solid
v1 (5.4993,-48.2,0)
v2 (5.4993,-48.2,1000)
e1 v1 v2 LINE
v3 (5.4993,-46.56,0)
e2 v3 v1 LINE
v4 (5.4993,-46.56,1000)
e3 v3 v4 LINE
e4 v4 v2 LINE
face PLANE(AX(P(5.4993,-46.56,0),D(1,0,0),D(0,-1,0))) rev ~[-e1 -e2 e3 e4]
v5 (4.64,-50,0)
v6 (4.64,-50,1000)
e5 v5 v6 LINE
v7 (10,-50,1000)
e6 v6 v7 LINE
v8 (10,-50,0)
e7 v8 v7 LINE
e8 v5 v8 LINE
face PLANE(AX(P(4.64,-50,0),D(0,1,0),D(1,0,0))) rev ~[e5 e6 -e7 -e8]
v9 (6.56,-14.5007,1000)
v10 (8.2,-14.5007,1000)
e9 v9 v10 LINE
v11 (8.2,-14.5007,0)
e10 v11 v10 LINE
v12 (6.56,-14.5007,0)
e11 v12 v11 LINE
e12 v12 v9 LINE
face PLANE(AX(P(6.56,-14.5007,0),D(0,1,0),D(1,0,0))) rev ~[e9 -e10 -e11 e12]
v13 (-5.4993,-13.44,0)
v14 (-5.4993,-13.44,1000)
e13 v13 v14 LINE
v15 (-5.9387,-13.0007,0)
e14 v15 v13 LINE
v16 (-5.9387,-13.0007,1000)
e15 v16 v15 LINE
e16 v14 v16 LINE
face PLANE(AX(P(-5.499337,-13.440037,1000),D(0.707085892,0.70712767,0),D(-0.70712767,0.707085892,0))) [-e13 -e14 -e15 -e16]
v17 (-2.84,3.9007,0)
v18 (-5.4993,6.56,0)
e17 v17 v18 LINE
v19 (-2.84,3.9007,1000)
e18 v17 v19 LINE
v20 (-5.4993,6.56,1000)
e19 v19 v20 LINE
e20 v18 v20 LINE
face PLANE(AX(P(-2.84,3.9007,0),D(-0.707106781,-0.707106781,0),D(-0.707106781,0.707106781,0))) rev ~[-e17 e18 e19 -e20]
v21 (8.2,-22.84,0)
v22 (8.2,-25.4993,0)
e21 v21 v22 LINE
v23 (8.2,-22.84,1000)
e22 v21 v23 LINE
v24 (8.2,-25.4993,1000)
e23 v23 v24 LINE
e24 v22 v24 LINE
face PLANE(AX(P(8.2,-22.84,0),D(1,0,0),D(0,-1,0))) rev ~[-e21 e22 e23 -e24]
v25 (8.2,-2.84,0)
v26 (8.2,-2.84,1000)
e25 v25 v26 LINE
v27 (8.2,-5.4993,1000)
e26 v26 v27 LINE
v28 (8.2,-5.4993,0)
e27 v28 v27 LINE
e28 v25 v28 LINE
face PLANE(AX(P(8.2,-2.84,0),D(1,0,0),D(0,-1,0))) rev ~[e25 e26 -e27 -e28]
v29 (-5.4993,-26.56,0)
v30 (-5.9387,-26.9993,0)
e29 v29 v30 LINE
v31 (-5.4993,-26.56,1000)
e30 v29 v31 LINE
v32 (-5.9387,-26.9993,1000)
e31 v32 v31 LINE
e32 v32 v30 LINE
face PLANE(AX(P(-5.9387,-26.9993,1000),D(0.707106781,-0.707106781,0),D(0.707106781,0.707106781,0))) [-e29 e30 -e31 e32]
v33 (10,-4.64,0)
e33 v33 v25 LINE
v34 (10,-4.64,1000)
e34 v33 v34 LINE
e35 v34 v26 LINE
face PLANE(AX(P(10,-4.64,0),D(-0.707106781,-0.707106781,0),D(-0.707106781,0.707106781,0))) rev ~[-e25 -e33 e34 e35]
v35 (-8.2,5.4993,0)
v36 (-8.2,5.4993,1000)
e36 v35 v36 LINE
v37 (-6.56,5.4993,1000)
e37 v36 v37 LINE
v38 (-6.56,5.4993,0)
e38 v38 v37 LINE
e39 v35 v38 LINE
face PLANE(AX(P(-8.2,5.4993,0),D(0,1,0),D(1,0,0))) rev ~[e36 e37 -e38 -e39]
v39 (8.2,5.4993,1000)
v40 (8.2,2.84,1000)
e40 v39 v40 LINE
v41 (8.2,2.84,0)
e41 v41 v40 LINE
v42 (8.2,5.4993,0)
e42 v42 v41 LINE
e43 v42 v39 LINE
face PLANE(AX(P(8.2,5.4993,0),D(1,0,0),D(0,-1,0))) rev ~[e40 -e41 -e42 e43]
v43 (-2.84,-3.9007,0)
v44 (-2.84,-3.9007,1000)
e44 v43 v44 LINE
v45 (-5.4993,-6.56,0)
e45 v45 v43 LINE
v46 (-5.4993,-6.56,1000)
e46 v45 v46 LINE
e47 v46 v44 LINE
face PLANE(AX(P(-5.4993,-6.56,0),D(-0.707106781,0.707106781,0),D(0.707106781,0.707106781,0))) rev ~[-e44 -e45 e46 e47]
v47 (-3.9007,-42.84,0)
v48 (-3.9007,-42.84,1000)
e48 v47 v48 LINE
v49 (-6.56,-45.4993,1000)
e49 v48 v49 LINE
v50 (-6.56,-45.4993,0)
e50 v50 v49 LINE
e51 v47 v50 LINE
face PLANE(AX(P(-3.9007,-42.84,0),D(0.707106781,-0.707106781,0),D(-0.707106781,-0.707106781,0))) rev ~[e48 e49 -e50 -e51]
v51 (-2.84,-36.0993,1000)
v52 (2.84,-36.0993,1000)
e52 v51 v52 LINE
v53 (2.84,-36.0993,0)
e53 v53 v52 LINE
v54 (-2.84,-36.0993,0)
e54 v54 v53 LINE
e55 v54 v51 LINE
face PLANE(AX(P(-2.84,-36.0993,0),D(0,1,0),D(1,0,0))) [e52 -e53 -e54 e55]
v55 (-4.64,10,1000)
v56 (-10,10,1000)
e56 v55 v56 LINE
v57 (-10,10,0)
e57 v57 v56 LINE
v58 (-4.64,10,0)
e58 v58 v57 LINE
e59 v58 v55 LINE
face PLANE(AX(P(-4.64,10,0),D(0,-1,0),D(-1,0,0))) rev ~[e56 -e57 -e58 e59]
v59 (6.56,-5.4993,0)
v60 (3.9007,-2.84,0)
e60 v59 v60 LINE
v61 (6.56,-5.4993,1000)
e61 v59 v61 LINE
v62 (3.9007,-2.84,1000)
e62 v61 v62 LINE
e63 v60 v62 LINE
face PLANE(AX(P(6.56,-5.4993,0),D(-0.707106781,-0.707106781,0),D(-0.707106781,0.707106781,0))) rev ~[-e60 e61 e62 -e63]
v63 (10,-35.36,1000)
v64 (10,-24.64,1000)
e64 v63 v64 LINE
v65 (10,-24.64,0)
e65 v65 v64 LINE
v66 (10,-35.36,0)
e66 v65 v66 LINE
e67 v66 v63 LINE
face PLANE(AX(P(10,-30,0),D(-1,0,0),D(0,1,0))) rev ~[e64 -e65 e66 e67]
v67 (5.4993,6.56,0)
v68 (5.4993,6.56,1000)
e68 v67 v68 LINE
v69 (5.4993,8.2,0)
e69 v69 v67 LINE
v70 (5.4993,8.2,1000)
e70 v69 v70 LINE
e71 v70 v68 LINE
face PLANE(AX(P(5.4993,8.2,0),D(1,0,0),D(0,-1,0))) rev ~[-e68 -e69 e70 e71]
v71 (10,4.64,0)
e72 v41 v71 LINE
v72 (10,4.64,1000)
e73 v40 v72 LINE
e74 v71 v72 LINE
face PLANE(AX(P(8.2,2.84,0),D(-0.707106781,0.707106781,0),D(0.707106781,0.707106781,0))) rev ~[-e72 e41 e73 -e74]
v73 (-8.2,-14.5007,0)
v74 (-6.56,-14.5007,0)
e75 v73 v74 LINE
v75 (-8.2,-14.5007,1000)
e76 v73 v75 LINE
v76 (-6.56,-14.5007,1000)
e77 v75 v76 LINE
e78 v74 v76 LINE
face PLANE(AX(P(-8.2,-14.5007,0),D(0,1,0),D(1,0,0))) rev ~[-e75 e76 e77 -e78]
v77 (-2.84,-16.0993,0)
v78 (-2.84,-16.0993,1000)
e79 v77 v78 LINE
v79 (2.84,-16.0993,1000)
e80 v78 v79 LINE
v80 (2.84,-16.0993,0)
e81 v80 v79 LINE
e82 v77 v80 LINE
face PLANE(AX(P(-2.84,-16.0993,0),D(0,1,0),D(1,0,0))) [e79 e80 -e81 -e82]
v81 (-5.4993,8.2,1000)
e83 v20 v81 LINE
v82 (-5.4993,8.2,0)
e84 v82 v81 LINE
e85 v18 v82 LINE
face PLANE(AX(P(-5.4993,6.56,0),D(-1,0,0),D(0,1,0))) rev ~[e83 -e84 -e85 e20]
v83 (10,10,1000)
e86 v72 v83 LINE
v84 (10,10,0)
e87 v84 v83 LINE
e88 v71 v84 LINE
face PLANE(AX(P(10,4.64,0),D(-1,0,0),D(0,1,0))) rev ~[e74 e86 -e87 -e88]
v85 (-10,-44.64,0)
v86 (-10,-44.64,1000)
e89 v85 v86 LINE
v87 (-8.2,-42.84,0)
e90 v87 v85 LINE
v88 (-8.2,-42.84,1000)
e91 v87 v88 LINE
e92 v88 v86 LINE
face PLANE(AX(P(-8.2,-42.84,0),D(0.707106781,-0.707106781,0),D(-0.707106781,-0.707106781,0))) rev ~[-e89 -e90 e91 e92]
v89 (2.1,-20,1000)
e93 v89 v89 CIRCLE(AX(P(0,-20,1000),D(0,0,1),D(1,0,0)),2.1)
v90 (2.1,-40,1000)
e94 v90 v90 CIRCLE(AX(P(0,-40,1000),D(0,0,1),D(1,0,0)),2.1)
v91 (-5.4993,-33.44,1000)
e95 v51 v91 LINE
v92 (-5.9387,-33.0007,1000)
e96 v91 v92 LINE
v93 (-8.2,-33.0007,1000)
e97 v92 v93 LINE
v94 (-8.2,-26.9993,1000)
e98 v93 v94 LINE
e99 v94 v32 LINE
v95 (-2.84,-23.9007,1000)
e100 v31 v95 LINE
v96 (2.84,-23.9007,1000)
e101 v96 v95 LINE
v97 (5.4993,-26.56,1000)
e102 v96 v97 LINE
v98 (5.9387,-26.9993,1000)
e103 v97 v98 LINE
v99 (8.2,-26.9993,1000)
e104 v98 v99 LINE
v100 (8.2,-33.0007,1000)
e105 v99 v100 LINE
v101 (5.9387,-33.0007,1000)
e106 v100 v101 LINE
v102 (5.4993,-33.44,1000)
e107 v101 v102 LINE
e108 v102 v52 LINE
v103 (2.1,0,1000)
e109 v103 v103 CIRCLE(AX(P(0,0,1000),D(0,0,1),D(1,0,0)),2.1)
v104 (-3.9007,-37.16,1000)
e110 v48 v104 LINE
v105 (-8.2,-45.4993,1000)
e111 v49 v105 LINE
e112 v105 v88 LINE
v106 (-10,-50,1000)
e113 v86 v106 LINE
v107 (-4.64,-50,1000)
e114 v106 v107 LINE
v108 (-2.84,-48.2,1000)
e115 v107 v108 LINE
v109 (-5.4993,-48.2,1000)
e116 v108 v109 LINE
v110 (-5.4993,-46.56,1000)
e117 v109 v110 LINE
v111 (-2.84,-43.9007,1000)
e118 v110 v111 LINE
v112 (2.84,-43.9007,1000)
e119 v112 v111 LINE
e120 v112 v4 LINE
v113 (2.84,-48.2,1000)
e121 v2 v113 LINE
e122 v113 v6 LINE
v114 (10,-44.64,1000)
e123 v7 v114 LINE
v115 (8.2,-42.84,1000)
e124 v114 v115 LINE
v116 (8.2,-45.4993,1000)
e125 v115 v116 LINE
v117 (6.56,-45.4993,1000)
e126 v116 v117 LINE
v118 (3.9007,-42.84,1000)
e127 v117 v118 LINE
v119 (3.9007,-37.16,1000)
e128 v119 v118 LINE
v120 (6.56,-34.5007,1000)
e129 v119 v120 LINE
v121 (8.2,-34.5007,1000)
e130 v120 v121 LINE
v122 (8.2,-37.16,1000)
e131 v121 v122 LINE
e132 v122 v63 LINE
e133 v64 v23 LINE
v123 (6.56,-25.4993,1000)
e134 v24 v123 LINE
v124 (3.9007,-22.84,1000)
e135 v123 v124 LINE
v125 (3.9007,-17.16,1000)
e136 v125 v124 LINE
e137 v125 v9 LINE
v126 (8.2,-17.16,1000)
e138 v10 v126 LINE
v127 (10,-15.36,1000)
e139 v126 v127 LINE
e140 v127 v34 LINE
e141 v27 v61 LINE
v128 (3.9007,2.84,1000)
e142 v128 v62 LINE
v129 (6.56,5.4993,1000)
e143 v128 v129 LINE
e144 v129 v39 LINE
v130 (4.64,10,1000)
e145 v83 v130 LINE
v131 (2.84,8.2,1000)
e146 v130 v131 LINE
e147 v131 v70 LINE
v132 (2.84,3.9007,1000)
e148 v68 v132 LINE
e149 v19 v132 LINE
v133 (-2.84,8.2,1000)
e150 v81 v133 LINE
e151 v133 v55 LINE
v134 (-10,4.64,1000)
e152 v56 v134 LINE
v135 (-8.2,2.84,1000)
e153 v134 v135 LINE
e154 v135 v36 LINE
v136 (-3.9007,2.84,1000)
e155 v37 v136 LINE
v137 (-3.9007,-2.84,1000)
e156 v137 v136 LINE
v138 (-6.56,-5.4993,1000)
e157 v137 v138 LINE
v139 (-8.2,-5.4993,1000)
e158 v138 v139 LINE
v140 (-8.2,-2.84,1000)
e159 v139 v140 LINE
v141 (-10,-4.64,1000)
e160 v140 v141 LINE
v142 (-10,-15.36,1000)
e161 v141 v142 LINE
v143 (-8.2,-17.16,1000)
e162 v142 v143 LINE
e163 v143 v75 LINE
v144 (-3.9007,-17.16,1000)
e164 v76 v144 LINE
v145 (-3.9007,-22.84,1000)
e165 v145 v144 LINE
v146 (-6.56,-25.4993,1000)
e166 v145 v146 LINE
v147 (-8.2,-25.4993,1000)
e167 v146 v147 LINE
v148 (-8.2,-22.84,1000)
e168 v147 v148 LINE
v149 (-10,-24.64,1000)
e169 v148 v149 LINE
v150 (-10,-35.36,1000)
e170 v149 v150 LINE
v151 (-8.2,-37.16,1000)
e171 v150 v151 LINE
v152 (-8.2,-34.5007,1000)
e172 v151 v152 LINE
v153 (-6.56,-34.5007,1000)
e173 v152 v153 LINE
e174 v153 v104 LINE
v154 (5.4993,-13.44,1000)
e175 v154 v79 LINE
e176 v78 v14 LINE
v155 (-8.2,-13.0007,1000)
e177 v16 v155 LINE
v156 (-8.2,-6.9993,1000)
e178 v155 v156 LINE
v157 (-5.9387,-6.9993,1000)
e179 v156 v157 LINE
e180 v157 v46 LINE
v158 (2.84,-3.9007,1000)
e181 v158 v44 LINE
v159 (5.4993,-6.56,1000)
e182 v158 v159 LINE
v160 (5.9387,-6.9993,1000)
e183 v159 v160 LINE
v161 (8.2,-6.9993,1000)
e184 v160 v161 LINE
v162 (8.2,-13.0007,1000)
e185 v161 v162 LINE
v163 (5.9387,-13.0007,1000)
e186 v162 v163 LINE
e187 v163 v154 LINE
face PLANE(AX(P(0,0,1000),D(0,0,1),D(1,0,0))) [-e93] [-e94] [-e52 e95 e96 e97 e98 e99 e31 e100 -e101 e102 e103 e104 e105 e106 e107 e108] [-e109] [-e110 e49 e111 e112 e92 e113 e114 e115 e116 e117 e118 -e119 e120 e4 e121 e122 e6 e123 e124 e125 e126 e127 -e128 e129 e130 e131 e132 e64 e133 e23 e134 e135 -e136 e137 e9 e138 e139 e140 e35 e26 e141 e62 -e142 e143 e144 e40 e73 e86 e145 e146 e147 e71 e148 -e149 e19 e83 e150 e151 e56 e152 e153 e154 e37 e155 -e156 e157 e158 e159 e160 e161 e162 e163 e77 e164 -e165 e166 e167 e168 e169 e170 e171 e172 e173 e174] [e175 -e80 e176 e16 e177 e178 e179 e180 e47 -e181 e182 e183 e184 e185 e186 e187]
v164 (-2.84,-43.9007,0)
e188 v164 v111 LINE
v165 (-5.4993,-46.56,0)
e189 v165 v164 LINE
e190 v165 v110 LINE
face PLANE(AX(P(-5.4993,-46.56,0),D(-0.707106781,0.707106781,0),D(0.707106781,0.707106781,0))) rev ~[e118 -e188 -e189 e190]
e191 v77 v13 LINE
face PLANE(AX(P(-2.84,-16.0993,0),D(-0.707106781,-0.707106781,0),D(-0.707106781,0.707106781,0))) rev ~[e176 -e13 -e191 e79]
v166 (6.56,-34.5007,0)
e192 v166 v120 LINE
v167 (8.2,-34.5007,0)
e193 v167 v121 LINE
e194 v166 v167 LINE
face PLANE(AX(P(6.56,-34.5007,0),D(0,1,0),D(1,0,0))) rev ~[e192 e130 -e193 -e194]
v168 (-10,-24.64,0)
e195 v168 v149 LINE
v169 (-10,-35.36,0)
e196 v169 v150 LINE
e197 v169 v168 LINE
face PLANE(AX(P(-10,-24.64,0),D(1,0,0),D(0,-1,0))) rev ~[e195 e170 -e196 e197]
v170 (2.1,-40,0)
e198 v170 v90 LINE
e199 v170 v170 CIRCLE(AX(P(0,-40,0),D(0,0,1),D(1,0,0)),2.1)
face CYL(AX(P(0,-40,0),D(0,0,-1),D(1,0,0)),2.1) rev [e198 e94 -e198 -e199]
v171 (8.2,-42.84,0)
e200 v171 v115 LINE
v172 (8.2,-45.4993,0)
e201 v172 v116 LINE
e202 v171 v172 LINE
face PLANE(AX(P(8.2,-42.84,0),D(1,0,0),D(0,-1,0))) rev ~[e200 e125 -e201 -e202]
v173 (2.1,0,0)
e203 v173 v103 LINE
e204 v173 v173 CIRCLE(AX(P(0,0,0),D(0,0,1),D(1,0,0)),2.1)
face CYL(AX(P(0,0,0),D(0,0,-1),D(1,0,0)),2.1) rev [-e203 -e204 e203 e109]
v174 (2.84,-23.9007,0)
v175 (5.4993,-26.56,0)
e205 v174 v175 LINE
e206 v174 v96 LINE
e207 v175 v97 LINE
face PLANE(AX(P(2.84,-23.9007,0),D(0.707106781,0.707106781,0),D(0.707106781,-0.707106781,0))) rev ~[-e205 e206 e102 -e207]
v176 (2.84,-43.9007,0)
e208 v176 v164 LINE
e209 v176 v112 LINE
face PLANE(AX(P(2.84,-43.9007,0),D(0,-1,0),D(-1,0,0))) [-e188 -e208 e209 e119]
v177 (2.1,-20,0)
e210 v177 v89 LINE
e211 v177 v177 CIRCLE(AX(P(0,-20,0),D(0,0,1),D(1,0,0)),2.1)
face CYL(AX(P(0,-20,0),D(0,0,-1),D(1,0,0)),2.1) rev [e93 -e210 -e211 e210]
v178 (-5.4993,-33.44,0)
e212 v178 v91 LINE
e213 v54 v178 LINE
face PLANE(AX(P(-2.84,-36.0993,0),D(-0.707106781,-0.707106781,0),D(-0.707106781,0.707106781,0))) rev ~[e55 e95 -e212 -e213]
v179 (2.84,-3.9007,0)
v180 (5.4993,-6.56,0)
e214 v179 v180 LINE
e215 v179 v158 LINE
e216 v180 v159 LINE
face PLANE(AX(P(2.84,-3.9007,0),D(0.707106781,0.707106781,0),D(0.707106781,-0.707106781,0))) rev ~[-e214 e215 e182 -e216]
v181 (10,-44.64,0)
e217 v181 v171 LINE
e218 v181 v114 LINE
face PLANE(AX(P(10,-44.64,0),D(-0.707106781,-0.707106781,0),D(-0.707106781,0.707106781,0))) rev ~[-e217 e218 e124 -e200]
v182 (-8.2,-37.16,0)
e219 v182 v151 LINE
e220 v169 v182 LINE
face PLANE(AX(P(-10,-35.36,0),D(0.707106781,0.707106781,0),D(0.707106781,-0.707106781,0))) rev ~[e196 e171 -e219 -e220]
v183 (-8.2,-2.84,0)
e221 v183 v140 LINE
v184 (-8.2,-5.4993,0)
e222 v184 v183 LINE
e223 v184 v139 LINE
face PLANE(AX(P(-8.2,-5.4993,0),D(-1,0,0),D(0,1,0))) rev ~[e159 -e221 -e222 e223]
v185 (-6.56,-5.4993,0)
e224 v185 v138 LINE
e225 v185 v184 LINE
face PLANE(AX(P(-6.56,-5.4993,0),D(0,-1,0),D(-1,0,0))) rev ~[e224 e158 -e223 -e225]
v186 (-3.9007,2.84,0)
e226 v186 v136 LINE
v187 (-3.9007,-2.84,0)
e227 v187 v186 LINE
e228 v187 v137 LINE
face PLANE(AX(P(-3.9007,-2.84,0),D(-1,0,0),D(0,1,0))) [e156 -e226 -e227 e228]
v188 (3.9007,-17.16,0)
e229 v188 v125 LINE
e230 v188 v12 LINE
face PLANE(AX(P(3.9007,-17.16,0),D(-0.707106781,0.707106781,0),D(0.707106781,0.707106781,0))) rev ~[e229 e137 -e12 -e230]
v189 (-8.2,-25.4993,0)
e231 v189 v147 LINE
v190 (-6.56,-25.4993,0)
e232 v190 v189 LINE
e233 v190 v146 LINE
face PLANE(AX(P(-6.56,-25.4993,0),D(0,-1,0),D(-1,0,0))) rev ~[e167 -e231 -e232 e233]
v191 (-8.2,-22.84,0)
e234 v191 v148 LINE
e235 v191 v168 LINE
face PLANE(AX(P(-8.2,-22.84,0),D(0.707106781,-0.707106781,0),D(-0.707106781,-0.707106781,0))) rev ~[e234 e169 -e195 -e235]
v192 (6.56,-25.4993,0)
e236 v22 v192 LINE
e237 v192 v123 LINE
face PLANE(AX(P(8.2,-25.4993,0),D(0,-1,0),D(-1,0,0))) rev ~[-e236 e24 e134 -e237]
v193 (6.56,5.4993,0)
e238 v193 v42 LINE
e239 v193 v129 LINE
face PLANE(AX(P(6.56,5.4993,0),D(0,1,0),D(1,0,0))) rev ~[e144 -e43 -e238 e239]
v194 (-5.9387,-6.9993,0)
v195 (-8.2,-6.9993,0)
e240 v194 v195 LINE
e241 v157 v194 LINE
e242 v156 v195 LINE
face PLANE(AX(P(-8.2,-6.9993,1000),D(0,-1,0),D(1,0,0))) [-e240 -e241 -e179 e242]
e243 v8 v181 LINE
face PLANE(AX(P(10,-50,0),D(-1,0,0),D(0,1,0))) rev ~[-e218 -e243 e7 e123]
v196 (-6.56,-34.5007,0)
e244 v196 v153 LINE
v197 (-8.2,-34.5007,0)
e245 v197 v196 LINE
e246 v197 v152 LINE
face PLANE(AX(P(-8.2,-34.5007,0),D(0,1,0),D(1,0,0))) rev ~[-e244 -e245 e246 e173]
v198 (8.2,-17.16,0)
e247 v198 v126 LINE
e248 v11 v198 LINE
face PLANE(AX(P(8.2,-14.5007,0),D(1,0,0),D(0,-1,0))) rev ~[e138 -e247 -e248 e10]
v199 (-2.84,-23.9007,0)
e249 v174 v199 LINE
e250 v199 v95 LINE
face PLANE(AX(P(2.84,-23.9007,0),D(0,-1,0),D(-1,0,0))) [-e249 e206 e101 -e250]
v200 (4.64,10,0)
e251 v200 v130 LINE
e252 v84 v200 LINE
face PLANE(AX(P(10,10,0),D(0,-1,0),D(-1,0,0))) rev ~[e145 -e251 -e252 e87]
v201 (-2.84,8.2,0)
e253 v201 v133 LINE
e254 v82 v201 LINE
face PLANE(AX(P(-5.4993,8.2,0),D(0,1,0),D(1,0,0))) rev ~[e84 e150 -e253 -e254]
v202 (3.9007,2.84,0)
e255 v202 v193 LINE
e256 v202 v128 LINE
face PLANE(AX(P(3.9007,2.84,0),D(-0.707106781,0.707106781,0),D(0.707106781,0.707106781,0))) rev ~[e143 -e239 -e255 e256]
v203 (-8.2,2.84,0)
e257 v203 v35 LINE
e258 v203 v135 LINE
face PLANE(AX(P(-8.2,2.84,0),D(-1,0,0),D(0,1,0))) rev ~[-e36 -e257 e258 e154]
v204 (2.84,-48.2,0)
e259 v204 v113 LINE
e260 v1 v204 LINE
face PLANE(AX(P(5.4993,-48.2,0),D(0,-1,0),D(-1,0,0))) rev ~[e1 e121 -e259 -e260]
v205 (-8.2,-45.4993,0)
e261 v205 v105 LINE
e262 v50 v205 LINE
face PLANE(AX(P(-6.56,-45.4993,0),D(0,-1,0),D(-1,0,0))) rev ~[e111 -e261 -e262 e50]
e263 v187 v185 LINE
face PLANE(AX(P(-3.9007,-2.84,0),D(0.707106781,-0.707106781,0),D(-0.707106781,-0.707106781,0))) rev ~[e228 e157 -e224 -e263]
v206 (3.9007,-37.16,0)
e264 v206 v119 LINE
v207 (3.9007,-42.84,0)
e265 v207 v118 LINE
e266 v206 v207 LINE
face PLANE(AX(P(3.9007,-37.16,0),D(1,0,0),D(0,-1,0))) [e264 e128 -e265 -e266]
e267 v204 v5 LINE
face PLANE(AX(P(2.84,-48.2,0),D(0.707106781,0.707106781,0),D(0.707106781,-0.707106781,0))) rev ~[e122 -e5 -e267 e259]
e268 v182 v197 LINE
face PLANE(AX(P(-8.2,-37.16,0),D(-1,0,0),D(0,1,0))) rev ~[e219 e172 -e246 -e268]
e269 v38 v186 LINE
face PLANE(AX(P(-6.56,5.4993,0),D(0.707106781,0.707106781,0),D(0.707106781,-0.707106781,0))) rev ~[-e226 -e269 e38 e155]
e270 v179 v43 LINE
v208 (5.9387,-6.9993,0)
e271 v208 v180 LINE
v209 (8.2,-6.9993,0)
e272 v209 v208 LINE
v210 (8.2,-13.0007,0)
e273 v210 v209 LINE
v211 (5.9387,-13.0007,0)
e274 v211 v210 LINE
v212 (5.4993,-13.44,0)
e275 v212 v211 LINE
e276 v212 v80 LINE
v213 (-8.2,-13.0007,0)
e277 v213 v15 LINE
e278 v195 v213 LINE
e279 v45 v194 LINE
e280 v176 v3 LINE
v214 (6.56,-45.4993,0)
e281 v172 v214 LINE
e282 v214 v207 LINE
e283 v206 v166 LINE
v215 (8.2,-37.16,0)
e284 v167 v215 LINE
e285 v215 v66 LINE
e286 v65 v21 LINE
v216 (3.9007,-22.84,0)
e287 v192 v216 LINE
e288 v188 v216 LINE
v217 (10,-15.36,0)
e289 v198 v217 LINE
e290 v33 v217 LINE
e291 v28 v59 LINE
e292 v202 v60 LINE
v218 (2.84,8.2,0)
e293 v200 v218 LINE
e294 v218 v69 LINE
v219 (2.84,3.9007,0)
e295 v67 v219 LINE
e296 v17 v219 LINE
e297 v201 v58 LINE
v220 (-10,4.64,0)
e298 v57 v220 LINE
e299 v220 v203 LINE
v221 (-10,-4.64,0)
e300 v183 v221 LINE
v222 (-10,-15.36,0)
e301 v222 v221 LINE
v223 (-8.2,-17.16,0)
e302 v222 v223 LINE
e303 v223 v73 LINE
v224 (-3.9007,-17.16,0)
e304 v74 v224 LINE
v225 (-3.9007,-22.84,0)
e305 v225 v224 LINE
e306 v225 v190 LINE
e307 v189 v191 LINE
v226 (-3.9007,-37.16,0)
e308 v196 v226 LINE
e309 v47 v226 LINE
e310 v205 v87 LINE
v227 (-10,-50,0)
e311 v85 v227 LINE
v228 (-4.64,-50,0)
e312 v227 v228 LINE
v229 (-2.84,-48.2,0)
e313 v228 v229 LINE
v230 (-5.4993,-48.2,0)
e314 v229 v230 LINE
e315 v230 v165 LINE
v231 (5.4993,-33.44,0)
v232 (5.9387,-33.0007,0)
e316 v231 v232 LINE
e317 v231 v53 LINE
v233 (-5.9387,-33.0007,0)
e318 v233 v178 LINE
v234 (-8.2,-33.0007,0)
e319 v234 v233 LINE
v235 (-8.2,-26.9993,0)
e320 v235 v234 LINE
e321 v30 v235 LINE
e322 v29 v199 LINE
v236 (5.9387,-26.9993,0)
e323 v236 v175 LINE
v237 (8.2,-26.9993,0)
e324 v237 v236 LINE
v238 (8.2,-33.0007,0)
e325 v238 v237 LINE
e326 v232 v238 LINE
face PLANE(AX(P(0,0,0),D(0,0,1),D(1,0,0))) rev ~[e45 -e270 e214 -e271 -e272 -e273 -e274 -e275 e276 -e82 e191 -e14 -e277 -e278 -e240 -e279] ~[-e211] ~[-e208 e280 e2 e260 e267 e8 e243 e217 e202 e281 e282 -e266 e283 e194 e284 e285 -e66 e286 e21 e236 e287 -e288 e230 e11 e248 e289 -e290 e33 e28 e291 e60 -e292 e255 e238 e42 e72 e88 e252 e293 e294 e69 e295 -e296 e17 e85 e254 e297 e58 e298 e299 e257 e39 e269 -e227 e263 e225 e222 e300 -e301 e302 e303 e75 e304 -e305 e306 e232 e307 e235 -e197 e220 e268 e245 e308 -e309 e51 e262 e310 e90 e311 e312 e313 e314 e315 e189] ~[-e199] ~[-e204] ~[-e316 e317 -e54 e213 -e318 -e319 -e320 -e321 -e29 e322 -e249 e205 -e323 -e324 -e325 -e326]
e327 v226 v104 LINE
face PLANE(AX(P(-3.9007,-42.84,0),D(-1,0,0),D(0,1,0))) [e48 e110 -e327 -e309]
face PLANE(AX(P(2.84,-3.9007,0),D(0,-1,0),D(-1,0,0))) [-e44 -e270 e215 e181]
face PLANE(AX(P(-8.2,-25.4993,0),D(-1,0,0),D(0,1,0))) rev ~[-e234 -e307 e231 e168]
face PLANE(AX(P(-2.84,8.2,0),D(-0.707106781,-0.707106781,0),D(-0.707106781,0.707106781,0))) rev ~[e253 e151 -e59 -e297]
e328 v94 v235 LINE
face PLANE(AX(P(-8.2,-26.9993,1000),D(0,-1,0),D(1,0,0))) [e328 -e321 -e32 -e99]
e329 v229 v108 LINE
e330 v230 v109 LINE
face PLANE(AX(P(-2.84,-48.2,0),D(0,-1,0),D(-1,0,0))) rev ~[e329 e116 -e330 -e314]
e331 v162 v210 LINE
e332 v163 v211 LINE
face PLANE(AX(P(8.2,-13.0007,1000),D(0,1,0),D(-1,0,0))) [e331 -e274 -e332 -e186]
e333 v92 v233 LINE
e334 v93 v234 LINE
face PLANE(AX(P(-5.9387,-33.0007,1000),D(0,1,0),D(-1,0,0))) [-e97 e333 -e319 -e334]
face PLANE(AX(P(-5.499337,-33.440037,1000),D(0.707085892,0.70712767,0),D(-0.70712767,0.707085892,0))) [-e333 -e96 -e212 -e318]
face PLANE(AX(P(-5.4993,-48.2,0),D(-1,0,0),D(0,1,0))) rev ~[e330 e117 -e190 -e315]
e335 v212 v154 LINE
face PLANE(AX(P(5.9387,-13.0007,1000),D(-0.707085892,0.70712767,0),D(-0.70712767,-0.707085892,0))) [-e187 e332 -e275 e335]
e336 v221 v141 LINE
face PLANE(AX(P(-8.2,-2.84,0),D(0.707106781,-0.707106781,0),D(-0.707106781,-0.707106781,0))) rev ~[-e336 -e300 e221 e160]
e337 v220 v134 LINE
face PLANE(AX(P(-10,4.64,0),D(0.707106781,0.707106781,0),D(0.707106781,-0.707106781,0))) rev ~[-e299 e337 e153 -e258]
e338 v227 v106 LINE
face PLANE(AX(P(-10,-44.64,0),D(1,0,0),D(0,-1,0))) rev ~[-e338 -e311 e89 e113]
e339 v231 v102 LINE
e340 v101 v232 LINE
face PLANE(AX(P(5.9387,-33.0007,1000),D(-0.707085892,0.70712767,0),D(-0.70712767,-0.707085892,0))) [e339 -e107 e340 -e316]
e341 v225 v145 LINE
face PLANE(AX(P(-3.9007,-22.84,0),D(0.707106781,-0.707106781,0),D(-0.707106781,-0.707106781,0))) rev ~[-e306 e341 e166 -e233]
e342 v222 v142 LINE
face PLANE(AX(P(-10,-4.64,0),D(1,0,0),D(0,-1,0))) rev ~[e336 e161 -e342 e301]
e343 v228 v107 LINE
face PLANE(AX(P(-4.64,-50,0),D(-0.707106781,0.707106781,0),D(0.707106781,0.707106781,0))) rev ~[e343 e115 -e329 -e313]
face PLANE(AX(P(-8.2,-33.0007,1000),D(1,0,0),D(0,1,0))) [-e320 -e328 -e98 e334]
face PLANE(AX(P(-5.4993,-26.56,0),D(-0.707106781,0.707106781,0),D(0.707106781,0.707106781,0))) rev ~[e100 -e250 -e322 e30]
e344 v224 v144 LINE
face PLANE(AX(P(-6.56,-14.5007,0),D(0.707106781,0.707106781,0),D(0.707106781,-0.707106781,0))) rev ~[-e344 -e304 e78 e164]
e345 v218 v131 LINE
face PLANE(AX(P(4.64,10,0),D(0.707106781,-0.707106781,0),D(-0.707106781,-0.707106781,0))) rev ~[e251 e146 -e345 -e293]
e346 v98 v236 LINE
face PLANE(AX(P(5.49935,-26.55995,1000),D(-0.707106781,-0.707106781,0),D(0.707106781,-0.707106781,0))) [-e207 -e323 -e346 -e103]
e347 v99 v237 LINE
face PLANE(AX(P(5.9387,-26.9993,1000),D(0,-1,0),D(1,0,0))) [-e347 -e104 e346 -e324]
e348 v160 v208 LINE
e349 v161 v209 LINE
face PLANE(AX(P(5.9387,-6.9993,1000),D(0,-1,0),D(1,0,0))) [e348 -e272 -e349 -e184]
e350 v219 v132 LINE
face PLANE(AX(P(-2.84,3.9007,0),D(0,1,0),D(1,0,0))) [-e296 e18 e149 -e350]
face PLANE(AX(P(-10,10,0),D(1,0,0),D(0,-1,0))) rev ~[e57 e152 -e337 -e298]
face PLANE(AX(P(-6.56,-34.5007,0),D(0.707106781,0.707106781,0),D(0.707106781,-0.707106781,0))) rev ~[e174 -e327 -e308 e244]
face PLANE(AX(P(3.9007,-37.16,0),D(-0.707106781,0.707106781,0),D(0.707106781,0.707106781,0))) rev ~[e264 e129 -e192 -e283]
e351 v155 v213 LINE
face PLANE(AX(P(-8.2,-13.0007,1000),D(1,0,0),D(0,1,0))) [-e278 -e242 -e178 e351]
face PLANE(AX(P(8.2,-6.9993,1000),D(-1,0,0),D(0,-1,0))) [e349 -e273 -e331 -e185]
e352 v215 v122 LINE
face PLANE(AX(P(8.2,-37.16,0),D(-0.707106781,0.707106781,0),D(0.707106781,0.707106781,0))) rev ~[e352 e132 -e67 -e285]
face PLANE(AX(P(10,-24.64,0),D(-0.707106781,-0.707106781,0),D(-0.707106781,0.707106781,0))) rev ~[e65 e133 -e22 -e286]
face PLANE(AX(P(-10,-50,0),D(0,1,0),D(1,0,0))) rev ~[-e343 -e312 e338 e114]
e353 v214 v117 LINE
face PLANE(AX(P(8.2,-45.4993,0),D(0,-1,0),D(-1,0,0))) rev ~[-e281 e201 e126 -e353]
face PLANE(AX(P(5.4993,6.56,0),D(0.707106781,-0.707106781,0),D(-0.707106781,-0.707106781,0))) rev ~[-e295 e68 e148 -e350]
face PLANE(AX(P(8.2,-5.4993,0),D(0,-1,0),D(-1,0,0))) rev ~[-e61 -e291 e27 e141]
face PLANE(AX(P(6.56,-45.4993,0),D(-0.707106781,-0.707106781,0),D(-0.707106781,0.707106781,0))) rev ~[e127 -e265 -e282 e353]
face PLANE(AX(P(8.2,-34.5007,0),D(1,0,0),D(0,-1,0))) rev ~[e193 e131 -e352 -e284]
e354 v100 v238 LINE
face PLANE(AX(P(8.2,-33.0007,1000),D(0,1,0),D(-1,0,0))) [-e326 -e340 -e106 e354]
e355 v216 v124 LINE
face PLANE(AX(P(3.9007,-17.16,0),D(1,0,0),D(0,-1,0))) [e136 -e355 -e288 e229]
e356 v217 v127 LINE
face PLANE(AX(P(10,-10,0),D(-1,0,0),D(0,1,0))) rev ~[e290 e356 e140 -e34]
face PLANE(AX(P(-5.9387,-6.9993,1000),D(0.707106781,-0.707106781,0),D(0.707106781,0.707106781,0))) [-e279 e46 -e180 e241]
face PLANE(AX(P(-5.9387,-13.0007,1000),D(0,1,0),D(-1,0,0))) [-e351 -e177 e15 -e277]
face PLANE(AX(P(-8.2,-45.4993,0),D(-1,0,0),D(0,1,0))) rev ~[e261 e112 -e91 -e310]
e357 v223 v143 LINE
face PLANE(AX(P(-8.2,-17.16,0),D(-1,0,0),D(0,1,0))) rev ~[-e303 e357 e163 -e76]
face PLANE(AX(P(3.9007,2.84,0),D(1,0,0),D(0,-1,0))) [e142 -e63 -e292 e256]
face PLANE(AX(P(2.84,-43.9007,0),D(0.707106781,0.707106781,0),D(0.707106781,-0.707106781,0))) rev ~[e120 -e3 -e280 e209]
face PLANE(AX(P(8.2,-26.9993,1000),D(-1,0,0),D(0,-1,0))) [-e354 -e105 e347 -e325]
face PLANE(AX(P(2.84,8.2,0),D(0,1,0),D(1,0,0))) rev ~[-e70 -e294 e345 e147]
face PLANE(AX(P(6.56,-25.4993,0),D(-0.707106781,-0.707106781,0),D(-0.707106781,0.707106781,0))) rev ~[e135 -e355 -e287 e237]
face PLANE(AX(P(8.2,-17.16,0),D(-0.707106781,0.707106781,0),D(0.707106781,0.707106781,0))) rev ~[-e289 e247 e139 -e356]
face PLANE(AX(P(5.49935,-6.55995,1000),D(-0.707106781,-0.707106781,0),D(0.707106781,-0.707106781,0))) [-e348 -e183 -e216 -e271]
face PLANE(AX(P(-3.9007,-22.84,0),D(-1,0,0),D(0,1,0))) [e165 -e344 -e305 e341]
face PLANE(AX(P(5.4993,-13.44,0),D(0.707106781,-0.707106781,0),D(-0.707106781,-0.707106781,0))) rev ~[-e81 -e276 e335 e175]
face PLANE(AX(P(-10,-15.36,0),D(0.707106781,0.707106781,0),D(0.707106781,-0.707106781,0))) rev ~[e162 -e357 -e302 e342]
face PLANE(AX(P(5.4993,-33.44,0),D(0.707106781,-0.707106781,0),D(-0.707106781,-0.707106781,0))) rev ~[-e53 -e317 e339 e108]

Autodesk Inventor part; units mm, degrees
ref_plane "YZ Plane" through (0, 0, 0) normal (1, 0, 0) x (0, 1, 0)
ref_plane "XZ Plane" through (0, 0, 0) normal (0, 1, 0) x (-1, 0, 0)
ref_plane "XY Plane" through (0, 0, 0) normal (0, 0, 1) x (1, 0, 0)
sketch "Sketch1" plane through (0, 0, 0) normal (0, 0, 1) x (1, 0, 0)
  line L0 (-3.9007, 3.9007) -> (3.9007, 3.9007)
  line L1 (3.9007, 3.9007) -> (3.9007, -3.9007)
  line L2 (3.9007, -3.9007) -> (-3.9007, -3.9007)
  line L3 (-3.9007, -3.9007) -> (-3.9007, 3.9007)
  line L4 (0, 3.9007) -> (0, -3.9007) construction
  line L5 (-3.9007, 0) -> (3.9007, 0) construction
  circle A0 centre (0, 0) radius 2.1
  line L6 (0, 0) -> (-16.1173, 16.1173) construction
  line L7 (0, 0) -> (22.7933, 0) construction
  line L8 (-2.84, 3.9007) -> (-5.4993, 6.56)
  line L9 (-5.4993, 6.56) -> (-5.4993, 8.2)
  line L10 (-5.4993, 8.2) -> (-2.84, 8.2)
  line L11 (-2.84, 8.2) -> (-4.64, 10)
  line L12 (-4.64, 10) -> (-10, 10)
  line L13 (-10, 10) -> (-10, 4.64)
  line L14 (-10, 4.64) -> (-8.2, 2.84)
  line L15 (-8.2, 2.84) -> (-8.2, 5.4993)
  line L16 (-8.2, 5.4993) -> (-6.56, 5.4993)
  line L17 (-6.56, 5.4993) -> (-3.9007, 2.84)
  line L18 (-3.9007, 2.84) -> (-11.3102, 2.84) construction
  line L19 (-2.84, 3.9007) -> (-3.9007, 3.9007)
  line L20 (-3.9007, 2.84) -> (-3.9007, 3.9007)
  line L21 (-3.9007, -2.84) -> (-6.56, -5.4993)
  line L22 (-6.56, -5.4993) -> (-8.2, -5.4993)
  line L23 (-8.2, -5.4993) -> (-8.2, -2.84)
  line L24 (-8.2, -2.84) -> (-10, -4.64)
  line L25 (-10, -4.64) -> (-10, -10)
  line L26 (-10, -10) -> (-4.64, -10)
  line L27 (-4.64, -10) -> (-2.84, -8.2)
  line L28 (-2.84, -8.2) -> (-5.4993, -8.2)
  line L29 (-5.4993, -8.2) -> (-5.4993, -6.56)
  line L30 (-5.4993, -6.56) -> (-2.84, -3.9007)
  line L31 (-3.9007, -2.84) -> (-3.9007, -3.9007)
  line L32 (-2.84, -3.9007) -> (-3.9007, -3.9007)
  line L33 (2.84, -3.9007) -> (5.4993, -6.56)
  line L34 (5.4993, -6.56) -> (5.4993, -8.2)
  line L35 (5.4993, -8.2) -> (2.84, -8.2)
  line L36 (2.84, -8.2) -> (4.64, -10)
  line L37 (4.64, -10) -> (10, -10)
  line L38 (10, -10) -> (10, -4.64)
  line L39 (10, -4.64) -> (8.2, -2.84)
  line L40 (8.2, -2.84) -> (8.2, -5.4993)
  line L41 (8.2, -5.4993) -> (6.56, -5.4993)
  line L42 (6.56, -5.4993) -> (3.9007, -2.84)
  line L43 (2.84, -3.9007) -> (3.9007, -3.9007)
  line L44 (3.9007, -2.84) -> (3.9007, -3.9007)
  line L45 (3.9007, 2.84) -> (6.56, 5.4993)
  line L46 (6.56, 5.4993) -> (8.2, 5.4993)
  line L47 (8.2, 5.4993) -> (8.2, 2.84)
  line L48 (8.2, 2.84) -> (10, 4.64)
  line L49 (10, 4.64) -> (10, 10)
  line L50 (10, 10) -> (4.64, 10)
  line L51 (4.64, 10) -> (2.84, 8.2)
  line L52 (2.84, 8.2) -> (5.4993, 8.2)
  line L53 (5.4993, 8.2) -> (5.4993, 6.56)
  line L54 (5.4993, 6.56) -> (2.84, 3.9007)
  line L55 (3.9007, 2.84) -> (3.9007, 3.9007)
  line L56 (2.84, 3.9007) -> (3.9007, 3.9007)
  dimension "d7" = 4.2
  dimension "d8" = 135
  dimension "d9" = 1.5
  dimension "d10" = 1.64
  dimension "d11" = 1.8
  dimension "d12" = 2.84
  dimension "d13" = 10
  dimension "d16" = 360
extrude "Extrusion1" add sketch "Sketch1" along normal blind 1000
pattern_linear "Rectangular Pattern1" count 3 spacing 20 along (0, -1, 0) of "Extrusion1"
sketch "Sketch2" plane through (0, 0, 1000) normal (0, 0, 1) x (1, 0, 0)
  line L0 (8.2, -2.84) -> (8.2, -5.4993) projected
  line L1 (8.2, -5.4993) -> (6.56, -5.4993) projected
  line L2 (-6.56, -5.4993) -> (-8.2, -5.4993) projected
  line L3 (-8.2, -5.4993) -> (-8.2, -2.84) projected
  line L4 (-8.2, -14.5007) -> (-6.56, -14.5007) projected
  line L5 (6.56, -14.5007) -> (8.2, -14.5007) projected
  line L6 (5.4993, -11.8) -> (5.4993, -13.44) projected
  line L7 (5.4993, -13.44) -> (2.84, -16.0993) projected
  line L8 (-2.84, -16.0993) -> (-5.4993, -13.44) projected
  line L9 (-5.4993, -8.2) -> (-5.4993, -6.56) projected
  line L10 (-5.4993, -6.56) -> (-2.84, -3.9007) projected
  line L11 (2.84, -3.9007) -> (5.4993, -6.56) projected
  line L12 (2.84, -8.2) -> (4.64, -10) projected
  line L13 (-8.2, -6.9993) -> (-5.9387, -6.9993)
  line L14 (-5.9387, -6.9993) -> (-4.1231, -5.1837)
  line L15 (-4.1231, -5.1837) -> (4.1231, -5.1837)
  line L16 (4.1231, -5.1837) -> (5.9387, -6.9993)
  line L17 (5.9387, -6.9993) -> (8.2, -6.9993)
  line L18 (8.2, -6.9993) -> (8.2, -13.0007)
  line L19 (8.2, -13.0007) -> (5.9387, -13.0007)
  line L20 (5.9387, -13.0007) -> (4.2461, -14.6932)
  line L21 (4.2461, -14.6932) -> (-4.2461, -14.6932)
  line L22 (-4.2461, -14.6932) -> (-5.9387, -13.0007)
  line L23 (-5.9387, -13.0007) -> (-8.2, -13.0007)
  line L24 (-8.2, -13.0007) -> (-8.2, -6.9993)
  dimension "d23" = 1.5
  dimension "d24" = 1.5
  dimension "d25" = 1.5
  dimension "d26" = 1.5
extrude "Extrusion2" cut sketch "Sketch2" against normal up to next
pattern_linear "Rectangular Pattern2" count 2 spacing 20 along (0, -1, 0) of "Extrusion2"
equation "\"d24\" = d23"
equation "\"d25\" = d23"
equation "\"d26\" = d23"
properties part number "20x60x1000mm"
